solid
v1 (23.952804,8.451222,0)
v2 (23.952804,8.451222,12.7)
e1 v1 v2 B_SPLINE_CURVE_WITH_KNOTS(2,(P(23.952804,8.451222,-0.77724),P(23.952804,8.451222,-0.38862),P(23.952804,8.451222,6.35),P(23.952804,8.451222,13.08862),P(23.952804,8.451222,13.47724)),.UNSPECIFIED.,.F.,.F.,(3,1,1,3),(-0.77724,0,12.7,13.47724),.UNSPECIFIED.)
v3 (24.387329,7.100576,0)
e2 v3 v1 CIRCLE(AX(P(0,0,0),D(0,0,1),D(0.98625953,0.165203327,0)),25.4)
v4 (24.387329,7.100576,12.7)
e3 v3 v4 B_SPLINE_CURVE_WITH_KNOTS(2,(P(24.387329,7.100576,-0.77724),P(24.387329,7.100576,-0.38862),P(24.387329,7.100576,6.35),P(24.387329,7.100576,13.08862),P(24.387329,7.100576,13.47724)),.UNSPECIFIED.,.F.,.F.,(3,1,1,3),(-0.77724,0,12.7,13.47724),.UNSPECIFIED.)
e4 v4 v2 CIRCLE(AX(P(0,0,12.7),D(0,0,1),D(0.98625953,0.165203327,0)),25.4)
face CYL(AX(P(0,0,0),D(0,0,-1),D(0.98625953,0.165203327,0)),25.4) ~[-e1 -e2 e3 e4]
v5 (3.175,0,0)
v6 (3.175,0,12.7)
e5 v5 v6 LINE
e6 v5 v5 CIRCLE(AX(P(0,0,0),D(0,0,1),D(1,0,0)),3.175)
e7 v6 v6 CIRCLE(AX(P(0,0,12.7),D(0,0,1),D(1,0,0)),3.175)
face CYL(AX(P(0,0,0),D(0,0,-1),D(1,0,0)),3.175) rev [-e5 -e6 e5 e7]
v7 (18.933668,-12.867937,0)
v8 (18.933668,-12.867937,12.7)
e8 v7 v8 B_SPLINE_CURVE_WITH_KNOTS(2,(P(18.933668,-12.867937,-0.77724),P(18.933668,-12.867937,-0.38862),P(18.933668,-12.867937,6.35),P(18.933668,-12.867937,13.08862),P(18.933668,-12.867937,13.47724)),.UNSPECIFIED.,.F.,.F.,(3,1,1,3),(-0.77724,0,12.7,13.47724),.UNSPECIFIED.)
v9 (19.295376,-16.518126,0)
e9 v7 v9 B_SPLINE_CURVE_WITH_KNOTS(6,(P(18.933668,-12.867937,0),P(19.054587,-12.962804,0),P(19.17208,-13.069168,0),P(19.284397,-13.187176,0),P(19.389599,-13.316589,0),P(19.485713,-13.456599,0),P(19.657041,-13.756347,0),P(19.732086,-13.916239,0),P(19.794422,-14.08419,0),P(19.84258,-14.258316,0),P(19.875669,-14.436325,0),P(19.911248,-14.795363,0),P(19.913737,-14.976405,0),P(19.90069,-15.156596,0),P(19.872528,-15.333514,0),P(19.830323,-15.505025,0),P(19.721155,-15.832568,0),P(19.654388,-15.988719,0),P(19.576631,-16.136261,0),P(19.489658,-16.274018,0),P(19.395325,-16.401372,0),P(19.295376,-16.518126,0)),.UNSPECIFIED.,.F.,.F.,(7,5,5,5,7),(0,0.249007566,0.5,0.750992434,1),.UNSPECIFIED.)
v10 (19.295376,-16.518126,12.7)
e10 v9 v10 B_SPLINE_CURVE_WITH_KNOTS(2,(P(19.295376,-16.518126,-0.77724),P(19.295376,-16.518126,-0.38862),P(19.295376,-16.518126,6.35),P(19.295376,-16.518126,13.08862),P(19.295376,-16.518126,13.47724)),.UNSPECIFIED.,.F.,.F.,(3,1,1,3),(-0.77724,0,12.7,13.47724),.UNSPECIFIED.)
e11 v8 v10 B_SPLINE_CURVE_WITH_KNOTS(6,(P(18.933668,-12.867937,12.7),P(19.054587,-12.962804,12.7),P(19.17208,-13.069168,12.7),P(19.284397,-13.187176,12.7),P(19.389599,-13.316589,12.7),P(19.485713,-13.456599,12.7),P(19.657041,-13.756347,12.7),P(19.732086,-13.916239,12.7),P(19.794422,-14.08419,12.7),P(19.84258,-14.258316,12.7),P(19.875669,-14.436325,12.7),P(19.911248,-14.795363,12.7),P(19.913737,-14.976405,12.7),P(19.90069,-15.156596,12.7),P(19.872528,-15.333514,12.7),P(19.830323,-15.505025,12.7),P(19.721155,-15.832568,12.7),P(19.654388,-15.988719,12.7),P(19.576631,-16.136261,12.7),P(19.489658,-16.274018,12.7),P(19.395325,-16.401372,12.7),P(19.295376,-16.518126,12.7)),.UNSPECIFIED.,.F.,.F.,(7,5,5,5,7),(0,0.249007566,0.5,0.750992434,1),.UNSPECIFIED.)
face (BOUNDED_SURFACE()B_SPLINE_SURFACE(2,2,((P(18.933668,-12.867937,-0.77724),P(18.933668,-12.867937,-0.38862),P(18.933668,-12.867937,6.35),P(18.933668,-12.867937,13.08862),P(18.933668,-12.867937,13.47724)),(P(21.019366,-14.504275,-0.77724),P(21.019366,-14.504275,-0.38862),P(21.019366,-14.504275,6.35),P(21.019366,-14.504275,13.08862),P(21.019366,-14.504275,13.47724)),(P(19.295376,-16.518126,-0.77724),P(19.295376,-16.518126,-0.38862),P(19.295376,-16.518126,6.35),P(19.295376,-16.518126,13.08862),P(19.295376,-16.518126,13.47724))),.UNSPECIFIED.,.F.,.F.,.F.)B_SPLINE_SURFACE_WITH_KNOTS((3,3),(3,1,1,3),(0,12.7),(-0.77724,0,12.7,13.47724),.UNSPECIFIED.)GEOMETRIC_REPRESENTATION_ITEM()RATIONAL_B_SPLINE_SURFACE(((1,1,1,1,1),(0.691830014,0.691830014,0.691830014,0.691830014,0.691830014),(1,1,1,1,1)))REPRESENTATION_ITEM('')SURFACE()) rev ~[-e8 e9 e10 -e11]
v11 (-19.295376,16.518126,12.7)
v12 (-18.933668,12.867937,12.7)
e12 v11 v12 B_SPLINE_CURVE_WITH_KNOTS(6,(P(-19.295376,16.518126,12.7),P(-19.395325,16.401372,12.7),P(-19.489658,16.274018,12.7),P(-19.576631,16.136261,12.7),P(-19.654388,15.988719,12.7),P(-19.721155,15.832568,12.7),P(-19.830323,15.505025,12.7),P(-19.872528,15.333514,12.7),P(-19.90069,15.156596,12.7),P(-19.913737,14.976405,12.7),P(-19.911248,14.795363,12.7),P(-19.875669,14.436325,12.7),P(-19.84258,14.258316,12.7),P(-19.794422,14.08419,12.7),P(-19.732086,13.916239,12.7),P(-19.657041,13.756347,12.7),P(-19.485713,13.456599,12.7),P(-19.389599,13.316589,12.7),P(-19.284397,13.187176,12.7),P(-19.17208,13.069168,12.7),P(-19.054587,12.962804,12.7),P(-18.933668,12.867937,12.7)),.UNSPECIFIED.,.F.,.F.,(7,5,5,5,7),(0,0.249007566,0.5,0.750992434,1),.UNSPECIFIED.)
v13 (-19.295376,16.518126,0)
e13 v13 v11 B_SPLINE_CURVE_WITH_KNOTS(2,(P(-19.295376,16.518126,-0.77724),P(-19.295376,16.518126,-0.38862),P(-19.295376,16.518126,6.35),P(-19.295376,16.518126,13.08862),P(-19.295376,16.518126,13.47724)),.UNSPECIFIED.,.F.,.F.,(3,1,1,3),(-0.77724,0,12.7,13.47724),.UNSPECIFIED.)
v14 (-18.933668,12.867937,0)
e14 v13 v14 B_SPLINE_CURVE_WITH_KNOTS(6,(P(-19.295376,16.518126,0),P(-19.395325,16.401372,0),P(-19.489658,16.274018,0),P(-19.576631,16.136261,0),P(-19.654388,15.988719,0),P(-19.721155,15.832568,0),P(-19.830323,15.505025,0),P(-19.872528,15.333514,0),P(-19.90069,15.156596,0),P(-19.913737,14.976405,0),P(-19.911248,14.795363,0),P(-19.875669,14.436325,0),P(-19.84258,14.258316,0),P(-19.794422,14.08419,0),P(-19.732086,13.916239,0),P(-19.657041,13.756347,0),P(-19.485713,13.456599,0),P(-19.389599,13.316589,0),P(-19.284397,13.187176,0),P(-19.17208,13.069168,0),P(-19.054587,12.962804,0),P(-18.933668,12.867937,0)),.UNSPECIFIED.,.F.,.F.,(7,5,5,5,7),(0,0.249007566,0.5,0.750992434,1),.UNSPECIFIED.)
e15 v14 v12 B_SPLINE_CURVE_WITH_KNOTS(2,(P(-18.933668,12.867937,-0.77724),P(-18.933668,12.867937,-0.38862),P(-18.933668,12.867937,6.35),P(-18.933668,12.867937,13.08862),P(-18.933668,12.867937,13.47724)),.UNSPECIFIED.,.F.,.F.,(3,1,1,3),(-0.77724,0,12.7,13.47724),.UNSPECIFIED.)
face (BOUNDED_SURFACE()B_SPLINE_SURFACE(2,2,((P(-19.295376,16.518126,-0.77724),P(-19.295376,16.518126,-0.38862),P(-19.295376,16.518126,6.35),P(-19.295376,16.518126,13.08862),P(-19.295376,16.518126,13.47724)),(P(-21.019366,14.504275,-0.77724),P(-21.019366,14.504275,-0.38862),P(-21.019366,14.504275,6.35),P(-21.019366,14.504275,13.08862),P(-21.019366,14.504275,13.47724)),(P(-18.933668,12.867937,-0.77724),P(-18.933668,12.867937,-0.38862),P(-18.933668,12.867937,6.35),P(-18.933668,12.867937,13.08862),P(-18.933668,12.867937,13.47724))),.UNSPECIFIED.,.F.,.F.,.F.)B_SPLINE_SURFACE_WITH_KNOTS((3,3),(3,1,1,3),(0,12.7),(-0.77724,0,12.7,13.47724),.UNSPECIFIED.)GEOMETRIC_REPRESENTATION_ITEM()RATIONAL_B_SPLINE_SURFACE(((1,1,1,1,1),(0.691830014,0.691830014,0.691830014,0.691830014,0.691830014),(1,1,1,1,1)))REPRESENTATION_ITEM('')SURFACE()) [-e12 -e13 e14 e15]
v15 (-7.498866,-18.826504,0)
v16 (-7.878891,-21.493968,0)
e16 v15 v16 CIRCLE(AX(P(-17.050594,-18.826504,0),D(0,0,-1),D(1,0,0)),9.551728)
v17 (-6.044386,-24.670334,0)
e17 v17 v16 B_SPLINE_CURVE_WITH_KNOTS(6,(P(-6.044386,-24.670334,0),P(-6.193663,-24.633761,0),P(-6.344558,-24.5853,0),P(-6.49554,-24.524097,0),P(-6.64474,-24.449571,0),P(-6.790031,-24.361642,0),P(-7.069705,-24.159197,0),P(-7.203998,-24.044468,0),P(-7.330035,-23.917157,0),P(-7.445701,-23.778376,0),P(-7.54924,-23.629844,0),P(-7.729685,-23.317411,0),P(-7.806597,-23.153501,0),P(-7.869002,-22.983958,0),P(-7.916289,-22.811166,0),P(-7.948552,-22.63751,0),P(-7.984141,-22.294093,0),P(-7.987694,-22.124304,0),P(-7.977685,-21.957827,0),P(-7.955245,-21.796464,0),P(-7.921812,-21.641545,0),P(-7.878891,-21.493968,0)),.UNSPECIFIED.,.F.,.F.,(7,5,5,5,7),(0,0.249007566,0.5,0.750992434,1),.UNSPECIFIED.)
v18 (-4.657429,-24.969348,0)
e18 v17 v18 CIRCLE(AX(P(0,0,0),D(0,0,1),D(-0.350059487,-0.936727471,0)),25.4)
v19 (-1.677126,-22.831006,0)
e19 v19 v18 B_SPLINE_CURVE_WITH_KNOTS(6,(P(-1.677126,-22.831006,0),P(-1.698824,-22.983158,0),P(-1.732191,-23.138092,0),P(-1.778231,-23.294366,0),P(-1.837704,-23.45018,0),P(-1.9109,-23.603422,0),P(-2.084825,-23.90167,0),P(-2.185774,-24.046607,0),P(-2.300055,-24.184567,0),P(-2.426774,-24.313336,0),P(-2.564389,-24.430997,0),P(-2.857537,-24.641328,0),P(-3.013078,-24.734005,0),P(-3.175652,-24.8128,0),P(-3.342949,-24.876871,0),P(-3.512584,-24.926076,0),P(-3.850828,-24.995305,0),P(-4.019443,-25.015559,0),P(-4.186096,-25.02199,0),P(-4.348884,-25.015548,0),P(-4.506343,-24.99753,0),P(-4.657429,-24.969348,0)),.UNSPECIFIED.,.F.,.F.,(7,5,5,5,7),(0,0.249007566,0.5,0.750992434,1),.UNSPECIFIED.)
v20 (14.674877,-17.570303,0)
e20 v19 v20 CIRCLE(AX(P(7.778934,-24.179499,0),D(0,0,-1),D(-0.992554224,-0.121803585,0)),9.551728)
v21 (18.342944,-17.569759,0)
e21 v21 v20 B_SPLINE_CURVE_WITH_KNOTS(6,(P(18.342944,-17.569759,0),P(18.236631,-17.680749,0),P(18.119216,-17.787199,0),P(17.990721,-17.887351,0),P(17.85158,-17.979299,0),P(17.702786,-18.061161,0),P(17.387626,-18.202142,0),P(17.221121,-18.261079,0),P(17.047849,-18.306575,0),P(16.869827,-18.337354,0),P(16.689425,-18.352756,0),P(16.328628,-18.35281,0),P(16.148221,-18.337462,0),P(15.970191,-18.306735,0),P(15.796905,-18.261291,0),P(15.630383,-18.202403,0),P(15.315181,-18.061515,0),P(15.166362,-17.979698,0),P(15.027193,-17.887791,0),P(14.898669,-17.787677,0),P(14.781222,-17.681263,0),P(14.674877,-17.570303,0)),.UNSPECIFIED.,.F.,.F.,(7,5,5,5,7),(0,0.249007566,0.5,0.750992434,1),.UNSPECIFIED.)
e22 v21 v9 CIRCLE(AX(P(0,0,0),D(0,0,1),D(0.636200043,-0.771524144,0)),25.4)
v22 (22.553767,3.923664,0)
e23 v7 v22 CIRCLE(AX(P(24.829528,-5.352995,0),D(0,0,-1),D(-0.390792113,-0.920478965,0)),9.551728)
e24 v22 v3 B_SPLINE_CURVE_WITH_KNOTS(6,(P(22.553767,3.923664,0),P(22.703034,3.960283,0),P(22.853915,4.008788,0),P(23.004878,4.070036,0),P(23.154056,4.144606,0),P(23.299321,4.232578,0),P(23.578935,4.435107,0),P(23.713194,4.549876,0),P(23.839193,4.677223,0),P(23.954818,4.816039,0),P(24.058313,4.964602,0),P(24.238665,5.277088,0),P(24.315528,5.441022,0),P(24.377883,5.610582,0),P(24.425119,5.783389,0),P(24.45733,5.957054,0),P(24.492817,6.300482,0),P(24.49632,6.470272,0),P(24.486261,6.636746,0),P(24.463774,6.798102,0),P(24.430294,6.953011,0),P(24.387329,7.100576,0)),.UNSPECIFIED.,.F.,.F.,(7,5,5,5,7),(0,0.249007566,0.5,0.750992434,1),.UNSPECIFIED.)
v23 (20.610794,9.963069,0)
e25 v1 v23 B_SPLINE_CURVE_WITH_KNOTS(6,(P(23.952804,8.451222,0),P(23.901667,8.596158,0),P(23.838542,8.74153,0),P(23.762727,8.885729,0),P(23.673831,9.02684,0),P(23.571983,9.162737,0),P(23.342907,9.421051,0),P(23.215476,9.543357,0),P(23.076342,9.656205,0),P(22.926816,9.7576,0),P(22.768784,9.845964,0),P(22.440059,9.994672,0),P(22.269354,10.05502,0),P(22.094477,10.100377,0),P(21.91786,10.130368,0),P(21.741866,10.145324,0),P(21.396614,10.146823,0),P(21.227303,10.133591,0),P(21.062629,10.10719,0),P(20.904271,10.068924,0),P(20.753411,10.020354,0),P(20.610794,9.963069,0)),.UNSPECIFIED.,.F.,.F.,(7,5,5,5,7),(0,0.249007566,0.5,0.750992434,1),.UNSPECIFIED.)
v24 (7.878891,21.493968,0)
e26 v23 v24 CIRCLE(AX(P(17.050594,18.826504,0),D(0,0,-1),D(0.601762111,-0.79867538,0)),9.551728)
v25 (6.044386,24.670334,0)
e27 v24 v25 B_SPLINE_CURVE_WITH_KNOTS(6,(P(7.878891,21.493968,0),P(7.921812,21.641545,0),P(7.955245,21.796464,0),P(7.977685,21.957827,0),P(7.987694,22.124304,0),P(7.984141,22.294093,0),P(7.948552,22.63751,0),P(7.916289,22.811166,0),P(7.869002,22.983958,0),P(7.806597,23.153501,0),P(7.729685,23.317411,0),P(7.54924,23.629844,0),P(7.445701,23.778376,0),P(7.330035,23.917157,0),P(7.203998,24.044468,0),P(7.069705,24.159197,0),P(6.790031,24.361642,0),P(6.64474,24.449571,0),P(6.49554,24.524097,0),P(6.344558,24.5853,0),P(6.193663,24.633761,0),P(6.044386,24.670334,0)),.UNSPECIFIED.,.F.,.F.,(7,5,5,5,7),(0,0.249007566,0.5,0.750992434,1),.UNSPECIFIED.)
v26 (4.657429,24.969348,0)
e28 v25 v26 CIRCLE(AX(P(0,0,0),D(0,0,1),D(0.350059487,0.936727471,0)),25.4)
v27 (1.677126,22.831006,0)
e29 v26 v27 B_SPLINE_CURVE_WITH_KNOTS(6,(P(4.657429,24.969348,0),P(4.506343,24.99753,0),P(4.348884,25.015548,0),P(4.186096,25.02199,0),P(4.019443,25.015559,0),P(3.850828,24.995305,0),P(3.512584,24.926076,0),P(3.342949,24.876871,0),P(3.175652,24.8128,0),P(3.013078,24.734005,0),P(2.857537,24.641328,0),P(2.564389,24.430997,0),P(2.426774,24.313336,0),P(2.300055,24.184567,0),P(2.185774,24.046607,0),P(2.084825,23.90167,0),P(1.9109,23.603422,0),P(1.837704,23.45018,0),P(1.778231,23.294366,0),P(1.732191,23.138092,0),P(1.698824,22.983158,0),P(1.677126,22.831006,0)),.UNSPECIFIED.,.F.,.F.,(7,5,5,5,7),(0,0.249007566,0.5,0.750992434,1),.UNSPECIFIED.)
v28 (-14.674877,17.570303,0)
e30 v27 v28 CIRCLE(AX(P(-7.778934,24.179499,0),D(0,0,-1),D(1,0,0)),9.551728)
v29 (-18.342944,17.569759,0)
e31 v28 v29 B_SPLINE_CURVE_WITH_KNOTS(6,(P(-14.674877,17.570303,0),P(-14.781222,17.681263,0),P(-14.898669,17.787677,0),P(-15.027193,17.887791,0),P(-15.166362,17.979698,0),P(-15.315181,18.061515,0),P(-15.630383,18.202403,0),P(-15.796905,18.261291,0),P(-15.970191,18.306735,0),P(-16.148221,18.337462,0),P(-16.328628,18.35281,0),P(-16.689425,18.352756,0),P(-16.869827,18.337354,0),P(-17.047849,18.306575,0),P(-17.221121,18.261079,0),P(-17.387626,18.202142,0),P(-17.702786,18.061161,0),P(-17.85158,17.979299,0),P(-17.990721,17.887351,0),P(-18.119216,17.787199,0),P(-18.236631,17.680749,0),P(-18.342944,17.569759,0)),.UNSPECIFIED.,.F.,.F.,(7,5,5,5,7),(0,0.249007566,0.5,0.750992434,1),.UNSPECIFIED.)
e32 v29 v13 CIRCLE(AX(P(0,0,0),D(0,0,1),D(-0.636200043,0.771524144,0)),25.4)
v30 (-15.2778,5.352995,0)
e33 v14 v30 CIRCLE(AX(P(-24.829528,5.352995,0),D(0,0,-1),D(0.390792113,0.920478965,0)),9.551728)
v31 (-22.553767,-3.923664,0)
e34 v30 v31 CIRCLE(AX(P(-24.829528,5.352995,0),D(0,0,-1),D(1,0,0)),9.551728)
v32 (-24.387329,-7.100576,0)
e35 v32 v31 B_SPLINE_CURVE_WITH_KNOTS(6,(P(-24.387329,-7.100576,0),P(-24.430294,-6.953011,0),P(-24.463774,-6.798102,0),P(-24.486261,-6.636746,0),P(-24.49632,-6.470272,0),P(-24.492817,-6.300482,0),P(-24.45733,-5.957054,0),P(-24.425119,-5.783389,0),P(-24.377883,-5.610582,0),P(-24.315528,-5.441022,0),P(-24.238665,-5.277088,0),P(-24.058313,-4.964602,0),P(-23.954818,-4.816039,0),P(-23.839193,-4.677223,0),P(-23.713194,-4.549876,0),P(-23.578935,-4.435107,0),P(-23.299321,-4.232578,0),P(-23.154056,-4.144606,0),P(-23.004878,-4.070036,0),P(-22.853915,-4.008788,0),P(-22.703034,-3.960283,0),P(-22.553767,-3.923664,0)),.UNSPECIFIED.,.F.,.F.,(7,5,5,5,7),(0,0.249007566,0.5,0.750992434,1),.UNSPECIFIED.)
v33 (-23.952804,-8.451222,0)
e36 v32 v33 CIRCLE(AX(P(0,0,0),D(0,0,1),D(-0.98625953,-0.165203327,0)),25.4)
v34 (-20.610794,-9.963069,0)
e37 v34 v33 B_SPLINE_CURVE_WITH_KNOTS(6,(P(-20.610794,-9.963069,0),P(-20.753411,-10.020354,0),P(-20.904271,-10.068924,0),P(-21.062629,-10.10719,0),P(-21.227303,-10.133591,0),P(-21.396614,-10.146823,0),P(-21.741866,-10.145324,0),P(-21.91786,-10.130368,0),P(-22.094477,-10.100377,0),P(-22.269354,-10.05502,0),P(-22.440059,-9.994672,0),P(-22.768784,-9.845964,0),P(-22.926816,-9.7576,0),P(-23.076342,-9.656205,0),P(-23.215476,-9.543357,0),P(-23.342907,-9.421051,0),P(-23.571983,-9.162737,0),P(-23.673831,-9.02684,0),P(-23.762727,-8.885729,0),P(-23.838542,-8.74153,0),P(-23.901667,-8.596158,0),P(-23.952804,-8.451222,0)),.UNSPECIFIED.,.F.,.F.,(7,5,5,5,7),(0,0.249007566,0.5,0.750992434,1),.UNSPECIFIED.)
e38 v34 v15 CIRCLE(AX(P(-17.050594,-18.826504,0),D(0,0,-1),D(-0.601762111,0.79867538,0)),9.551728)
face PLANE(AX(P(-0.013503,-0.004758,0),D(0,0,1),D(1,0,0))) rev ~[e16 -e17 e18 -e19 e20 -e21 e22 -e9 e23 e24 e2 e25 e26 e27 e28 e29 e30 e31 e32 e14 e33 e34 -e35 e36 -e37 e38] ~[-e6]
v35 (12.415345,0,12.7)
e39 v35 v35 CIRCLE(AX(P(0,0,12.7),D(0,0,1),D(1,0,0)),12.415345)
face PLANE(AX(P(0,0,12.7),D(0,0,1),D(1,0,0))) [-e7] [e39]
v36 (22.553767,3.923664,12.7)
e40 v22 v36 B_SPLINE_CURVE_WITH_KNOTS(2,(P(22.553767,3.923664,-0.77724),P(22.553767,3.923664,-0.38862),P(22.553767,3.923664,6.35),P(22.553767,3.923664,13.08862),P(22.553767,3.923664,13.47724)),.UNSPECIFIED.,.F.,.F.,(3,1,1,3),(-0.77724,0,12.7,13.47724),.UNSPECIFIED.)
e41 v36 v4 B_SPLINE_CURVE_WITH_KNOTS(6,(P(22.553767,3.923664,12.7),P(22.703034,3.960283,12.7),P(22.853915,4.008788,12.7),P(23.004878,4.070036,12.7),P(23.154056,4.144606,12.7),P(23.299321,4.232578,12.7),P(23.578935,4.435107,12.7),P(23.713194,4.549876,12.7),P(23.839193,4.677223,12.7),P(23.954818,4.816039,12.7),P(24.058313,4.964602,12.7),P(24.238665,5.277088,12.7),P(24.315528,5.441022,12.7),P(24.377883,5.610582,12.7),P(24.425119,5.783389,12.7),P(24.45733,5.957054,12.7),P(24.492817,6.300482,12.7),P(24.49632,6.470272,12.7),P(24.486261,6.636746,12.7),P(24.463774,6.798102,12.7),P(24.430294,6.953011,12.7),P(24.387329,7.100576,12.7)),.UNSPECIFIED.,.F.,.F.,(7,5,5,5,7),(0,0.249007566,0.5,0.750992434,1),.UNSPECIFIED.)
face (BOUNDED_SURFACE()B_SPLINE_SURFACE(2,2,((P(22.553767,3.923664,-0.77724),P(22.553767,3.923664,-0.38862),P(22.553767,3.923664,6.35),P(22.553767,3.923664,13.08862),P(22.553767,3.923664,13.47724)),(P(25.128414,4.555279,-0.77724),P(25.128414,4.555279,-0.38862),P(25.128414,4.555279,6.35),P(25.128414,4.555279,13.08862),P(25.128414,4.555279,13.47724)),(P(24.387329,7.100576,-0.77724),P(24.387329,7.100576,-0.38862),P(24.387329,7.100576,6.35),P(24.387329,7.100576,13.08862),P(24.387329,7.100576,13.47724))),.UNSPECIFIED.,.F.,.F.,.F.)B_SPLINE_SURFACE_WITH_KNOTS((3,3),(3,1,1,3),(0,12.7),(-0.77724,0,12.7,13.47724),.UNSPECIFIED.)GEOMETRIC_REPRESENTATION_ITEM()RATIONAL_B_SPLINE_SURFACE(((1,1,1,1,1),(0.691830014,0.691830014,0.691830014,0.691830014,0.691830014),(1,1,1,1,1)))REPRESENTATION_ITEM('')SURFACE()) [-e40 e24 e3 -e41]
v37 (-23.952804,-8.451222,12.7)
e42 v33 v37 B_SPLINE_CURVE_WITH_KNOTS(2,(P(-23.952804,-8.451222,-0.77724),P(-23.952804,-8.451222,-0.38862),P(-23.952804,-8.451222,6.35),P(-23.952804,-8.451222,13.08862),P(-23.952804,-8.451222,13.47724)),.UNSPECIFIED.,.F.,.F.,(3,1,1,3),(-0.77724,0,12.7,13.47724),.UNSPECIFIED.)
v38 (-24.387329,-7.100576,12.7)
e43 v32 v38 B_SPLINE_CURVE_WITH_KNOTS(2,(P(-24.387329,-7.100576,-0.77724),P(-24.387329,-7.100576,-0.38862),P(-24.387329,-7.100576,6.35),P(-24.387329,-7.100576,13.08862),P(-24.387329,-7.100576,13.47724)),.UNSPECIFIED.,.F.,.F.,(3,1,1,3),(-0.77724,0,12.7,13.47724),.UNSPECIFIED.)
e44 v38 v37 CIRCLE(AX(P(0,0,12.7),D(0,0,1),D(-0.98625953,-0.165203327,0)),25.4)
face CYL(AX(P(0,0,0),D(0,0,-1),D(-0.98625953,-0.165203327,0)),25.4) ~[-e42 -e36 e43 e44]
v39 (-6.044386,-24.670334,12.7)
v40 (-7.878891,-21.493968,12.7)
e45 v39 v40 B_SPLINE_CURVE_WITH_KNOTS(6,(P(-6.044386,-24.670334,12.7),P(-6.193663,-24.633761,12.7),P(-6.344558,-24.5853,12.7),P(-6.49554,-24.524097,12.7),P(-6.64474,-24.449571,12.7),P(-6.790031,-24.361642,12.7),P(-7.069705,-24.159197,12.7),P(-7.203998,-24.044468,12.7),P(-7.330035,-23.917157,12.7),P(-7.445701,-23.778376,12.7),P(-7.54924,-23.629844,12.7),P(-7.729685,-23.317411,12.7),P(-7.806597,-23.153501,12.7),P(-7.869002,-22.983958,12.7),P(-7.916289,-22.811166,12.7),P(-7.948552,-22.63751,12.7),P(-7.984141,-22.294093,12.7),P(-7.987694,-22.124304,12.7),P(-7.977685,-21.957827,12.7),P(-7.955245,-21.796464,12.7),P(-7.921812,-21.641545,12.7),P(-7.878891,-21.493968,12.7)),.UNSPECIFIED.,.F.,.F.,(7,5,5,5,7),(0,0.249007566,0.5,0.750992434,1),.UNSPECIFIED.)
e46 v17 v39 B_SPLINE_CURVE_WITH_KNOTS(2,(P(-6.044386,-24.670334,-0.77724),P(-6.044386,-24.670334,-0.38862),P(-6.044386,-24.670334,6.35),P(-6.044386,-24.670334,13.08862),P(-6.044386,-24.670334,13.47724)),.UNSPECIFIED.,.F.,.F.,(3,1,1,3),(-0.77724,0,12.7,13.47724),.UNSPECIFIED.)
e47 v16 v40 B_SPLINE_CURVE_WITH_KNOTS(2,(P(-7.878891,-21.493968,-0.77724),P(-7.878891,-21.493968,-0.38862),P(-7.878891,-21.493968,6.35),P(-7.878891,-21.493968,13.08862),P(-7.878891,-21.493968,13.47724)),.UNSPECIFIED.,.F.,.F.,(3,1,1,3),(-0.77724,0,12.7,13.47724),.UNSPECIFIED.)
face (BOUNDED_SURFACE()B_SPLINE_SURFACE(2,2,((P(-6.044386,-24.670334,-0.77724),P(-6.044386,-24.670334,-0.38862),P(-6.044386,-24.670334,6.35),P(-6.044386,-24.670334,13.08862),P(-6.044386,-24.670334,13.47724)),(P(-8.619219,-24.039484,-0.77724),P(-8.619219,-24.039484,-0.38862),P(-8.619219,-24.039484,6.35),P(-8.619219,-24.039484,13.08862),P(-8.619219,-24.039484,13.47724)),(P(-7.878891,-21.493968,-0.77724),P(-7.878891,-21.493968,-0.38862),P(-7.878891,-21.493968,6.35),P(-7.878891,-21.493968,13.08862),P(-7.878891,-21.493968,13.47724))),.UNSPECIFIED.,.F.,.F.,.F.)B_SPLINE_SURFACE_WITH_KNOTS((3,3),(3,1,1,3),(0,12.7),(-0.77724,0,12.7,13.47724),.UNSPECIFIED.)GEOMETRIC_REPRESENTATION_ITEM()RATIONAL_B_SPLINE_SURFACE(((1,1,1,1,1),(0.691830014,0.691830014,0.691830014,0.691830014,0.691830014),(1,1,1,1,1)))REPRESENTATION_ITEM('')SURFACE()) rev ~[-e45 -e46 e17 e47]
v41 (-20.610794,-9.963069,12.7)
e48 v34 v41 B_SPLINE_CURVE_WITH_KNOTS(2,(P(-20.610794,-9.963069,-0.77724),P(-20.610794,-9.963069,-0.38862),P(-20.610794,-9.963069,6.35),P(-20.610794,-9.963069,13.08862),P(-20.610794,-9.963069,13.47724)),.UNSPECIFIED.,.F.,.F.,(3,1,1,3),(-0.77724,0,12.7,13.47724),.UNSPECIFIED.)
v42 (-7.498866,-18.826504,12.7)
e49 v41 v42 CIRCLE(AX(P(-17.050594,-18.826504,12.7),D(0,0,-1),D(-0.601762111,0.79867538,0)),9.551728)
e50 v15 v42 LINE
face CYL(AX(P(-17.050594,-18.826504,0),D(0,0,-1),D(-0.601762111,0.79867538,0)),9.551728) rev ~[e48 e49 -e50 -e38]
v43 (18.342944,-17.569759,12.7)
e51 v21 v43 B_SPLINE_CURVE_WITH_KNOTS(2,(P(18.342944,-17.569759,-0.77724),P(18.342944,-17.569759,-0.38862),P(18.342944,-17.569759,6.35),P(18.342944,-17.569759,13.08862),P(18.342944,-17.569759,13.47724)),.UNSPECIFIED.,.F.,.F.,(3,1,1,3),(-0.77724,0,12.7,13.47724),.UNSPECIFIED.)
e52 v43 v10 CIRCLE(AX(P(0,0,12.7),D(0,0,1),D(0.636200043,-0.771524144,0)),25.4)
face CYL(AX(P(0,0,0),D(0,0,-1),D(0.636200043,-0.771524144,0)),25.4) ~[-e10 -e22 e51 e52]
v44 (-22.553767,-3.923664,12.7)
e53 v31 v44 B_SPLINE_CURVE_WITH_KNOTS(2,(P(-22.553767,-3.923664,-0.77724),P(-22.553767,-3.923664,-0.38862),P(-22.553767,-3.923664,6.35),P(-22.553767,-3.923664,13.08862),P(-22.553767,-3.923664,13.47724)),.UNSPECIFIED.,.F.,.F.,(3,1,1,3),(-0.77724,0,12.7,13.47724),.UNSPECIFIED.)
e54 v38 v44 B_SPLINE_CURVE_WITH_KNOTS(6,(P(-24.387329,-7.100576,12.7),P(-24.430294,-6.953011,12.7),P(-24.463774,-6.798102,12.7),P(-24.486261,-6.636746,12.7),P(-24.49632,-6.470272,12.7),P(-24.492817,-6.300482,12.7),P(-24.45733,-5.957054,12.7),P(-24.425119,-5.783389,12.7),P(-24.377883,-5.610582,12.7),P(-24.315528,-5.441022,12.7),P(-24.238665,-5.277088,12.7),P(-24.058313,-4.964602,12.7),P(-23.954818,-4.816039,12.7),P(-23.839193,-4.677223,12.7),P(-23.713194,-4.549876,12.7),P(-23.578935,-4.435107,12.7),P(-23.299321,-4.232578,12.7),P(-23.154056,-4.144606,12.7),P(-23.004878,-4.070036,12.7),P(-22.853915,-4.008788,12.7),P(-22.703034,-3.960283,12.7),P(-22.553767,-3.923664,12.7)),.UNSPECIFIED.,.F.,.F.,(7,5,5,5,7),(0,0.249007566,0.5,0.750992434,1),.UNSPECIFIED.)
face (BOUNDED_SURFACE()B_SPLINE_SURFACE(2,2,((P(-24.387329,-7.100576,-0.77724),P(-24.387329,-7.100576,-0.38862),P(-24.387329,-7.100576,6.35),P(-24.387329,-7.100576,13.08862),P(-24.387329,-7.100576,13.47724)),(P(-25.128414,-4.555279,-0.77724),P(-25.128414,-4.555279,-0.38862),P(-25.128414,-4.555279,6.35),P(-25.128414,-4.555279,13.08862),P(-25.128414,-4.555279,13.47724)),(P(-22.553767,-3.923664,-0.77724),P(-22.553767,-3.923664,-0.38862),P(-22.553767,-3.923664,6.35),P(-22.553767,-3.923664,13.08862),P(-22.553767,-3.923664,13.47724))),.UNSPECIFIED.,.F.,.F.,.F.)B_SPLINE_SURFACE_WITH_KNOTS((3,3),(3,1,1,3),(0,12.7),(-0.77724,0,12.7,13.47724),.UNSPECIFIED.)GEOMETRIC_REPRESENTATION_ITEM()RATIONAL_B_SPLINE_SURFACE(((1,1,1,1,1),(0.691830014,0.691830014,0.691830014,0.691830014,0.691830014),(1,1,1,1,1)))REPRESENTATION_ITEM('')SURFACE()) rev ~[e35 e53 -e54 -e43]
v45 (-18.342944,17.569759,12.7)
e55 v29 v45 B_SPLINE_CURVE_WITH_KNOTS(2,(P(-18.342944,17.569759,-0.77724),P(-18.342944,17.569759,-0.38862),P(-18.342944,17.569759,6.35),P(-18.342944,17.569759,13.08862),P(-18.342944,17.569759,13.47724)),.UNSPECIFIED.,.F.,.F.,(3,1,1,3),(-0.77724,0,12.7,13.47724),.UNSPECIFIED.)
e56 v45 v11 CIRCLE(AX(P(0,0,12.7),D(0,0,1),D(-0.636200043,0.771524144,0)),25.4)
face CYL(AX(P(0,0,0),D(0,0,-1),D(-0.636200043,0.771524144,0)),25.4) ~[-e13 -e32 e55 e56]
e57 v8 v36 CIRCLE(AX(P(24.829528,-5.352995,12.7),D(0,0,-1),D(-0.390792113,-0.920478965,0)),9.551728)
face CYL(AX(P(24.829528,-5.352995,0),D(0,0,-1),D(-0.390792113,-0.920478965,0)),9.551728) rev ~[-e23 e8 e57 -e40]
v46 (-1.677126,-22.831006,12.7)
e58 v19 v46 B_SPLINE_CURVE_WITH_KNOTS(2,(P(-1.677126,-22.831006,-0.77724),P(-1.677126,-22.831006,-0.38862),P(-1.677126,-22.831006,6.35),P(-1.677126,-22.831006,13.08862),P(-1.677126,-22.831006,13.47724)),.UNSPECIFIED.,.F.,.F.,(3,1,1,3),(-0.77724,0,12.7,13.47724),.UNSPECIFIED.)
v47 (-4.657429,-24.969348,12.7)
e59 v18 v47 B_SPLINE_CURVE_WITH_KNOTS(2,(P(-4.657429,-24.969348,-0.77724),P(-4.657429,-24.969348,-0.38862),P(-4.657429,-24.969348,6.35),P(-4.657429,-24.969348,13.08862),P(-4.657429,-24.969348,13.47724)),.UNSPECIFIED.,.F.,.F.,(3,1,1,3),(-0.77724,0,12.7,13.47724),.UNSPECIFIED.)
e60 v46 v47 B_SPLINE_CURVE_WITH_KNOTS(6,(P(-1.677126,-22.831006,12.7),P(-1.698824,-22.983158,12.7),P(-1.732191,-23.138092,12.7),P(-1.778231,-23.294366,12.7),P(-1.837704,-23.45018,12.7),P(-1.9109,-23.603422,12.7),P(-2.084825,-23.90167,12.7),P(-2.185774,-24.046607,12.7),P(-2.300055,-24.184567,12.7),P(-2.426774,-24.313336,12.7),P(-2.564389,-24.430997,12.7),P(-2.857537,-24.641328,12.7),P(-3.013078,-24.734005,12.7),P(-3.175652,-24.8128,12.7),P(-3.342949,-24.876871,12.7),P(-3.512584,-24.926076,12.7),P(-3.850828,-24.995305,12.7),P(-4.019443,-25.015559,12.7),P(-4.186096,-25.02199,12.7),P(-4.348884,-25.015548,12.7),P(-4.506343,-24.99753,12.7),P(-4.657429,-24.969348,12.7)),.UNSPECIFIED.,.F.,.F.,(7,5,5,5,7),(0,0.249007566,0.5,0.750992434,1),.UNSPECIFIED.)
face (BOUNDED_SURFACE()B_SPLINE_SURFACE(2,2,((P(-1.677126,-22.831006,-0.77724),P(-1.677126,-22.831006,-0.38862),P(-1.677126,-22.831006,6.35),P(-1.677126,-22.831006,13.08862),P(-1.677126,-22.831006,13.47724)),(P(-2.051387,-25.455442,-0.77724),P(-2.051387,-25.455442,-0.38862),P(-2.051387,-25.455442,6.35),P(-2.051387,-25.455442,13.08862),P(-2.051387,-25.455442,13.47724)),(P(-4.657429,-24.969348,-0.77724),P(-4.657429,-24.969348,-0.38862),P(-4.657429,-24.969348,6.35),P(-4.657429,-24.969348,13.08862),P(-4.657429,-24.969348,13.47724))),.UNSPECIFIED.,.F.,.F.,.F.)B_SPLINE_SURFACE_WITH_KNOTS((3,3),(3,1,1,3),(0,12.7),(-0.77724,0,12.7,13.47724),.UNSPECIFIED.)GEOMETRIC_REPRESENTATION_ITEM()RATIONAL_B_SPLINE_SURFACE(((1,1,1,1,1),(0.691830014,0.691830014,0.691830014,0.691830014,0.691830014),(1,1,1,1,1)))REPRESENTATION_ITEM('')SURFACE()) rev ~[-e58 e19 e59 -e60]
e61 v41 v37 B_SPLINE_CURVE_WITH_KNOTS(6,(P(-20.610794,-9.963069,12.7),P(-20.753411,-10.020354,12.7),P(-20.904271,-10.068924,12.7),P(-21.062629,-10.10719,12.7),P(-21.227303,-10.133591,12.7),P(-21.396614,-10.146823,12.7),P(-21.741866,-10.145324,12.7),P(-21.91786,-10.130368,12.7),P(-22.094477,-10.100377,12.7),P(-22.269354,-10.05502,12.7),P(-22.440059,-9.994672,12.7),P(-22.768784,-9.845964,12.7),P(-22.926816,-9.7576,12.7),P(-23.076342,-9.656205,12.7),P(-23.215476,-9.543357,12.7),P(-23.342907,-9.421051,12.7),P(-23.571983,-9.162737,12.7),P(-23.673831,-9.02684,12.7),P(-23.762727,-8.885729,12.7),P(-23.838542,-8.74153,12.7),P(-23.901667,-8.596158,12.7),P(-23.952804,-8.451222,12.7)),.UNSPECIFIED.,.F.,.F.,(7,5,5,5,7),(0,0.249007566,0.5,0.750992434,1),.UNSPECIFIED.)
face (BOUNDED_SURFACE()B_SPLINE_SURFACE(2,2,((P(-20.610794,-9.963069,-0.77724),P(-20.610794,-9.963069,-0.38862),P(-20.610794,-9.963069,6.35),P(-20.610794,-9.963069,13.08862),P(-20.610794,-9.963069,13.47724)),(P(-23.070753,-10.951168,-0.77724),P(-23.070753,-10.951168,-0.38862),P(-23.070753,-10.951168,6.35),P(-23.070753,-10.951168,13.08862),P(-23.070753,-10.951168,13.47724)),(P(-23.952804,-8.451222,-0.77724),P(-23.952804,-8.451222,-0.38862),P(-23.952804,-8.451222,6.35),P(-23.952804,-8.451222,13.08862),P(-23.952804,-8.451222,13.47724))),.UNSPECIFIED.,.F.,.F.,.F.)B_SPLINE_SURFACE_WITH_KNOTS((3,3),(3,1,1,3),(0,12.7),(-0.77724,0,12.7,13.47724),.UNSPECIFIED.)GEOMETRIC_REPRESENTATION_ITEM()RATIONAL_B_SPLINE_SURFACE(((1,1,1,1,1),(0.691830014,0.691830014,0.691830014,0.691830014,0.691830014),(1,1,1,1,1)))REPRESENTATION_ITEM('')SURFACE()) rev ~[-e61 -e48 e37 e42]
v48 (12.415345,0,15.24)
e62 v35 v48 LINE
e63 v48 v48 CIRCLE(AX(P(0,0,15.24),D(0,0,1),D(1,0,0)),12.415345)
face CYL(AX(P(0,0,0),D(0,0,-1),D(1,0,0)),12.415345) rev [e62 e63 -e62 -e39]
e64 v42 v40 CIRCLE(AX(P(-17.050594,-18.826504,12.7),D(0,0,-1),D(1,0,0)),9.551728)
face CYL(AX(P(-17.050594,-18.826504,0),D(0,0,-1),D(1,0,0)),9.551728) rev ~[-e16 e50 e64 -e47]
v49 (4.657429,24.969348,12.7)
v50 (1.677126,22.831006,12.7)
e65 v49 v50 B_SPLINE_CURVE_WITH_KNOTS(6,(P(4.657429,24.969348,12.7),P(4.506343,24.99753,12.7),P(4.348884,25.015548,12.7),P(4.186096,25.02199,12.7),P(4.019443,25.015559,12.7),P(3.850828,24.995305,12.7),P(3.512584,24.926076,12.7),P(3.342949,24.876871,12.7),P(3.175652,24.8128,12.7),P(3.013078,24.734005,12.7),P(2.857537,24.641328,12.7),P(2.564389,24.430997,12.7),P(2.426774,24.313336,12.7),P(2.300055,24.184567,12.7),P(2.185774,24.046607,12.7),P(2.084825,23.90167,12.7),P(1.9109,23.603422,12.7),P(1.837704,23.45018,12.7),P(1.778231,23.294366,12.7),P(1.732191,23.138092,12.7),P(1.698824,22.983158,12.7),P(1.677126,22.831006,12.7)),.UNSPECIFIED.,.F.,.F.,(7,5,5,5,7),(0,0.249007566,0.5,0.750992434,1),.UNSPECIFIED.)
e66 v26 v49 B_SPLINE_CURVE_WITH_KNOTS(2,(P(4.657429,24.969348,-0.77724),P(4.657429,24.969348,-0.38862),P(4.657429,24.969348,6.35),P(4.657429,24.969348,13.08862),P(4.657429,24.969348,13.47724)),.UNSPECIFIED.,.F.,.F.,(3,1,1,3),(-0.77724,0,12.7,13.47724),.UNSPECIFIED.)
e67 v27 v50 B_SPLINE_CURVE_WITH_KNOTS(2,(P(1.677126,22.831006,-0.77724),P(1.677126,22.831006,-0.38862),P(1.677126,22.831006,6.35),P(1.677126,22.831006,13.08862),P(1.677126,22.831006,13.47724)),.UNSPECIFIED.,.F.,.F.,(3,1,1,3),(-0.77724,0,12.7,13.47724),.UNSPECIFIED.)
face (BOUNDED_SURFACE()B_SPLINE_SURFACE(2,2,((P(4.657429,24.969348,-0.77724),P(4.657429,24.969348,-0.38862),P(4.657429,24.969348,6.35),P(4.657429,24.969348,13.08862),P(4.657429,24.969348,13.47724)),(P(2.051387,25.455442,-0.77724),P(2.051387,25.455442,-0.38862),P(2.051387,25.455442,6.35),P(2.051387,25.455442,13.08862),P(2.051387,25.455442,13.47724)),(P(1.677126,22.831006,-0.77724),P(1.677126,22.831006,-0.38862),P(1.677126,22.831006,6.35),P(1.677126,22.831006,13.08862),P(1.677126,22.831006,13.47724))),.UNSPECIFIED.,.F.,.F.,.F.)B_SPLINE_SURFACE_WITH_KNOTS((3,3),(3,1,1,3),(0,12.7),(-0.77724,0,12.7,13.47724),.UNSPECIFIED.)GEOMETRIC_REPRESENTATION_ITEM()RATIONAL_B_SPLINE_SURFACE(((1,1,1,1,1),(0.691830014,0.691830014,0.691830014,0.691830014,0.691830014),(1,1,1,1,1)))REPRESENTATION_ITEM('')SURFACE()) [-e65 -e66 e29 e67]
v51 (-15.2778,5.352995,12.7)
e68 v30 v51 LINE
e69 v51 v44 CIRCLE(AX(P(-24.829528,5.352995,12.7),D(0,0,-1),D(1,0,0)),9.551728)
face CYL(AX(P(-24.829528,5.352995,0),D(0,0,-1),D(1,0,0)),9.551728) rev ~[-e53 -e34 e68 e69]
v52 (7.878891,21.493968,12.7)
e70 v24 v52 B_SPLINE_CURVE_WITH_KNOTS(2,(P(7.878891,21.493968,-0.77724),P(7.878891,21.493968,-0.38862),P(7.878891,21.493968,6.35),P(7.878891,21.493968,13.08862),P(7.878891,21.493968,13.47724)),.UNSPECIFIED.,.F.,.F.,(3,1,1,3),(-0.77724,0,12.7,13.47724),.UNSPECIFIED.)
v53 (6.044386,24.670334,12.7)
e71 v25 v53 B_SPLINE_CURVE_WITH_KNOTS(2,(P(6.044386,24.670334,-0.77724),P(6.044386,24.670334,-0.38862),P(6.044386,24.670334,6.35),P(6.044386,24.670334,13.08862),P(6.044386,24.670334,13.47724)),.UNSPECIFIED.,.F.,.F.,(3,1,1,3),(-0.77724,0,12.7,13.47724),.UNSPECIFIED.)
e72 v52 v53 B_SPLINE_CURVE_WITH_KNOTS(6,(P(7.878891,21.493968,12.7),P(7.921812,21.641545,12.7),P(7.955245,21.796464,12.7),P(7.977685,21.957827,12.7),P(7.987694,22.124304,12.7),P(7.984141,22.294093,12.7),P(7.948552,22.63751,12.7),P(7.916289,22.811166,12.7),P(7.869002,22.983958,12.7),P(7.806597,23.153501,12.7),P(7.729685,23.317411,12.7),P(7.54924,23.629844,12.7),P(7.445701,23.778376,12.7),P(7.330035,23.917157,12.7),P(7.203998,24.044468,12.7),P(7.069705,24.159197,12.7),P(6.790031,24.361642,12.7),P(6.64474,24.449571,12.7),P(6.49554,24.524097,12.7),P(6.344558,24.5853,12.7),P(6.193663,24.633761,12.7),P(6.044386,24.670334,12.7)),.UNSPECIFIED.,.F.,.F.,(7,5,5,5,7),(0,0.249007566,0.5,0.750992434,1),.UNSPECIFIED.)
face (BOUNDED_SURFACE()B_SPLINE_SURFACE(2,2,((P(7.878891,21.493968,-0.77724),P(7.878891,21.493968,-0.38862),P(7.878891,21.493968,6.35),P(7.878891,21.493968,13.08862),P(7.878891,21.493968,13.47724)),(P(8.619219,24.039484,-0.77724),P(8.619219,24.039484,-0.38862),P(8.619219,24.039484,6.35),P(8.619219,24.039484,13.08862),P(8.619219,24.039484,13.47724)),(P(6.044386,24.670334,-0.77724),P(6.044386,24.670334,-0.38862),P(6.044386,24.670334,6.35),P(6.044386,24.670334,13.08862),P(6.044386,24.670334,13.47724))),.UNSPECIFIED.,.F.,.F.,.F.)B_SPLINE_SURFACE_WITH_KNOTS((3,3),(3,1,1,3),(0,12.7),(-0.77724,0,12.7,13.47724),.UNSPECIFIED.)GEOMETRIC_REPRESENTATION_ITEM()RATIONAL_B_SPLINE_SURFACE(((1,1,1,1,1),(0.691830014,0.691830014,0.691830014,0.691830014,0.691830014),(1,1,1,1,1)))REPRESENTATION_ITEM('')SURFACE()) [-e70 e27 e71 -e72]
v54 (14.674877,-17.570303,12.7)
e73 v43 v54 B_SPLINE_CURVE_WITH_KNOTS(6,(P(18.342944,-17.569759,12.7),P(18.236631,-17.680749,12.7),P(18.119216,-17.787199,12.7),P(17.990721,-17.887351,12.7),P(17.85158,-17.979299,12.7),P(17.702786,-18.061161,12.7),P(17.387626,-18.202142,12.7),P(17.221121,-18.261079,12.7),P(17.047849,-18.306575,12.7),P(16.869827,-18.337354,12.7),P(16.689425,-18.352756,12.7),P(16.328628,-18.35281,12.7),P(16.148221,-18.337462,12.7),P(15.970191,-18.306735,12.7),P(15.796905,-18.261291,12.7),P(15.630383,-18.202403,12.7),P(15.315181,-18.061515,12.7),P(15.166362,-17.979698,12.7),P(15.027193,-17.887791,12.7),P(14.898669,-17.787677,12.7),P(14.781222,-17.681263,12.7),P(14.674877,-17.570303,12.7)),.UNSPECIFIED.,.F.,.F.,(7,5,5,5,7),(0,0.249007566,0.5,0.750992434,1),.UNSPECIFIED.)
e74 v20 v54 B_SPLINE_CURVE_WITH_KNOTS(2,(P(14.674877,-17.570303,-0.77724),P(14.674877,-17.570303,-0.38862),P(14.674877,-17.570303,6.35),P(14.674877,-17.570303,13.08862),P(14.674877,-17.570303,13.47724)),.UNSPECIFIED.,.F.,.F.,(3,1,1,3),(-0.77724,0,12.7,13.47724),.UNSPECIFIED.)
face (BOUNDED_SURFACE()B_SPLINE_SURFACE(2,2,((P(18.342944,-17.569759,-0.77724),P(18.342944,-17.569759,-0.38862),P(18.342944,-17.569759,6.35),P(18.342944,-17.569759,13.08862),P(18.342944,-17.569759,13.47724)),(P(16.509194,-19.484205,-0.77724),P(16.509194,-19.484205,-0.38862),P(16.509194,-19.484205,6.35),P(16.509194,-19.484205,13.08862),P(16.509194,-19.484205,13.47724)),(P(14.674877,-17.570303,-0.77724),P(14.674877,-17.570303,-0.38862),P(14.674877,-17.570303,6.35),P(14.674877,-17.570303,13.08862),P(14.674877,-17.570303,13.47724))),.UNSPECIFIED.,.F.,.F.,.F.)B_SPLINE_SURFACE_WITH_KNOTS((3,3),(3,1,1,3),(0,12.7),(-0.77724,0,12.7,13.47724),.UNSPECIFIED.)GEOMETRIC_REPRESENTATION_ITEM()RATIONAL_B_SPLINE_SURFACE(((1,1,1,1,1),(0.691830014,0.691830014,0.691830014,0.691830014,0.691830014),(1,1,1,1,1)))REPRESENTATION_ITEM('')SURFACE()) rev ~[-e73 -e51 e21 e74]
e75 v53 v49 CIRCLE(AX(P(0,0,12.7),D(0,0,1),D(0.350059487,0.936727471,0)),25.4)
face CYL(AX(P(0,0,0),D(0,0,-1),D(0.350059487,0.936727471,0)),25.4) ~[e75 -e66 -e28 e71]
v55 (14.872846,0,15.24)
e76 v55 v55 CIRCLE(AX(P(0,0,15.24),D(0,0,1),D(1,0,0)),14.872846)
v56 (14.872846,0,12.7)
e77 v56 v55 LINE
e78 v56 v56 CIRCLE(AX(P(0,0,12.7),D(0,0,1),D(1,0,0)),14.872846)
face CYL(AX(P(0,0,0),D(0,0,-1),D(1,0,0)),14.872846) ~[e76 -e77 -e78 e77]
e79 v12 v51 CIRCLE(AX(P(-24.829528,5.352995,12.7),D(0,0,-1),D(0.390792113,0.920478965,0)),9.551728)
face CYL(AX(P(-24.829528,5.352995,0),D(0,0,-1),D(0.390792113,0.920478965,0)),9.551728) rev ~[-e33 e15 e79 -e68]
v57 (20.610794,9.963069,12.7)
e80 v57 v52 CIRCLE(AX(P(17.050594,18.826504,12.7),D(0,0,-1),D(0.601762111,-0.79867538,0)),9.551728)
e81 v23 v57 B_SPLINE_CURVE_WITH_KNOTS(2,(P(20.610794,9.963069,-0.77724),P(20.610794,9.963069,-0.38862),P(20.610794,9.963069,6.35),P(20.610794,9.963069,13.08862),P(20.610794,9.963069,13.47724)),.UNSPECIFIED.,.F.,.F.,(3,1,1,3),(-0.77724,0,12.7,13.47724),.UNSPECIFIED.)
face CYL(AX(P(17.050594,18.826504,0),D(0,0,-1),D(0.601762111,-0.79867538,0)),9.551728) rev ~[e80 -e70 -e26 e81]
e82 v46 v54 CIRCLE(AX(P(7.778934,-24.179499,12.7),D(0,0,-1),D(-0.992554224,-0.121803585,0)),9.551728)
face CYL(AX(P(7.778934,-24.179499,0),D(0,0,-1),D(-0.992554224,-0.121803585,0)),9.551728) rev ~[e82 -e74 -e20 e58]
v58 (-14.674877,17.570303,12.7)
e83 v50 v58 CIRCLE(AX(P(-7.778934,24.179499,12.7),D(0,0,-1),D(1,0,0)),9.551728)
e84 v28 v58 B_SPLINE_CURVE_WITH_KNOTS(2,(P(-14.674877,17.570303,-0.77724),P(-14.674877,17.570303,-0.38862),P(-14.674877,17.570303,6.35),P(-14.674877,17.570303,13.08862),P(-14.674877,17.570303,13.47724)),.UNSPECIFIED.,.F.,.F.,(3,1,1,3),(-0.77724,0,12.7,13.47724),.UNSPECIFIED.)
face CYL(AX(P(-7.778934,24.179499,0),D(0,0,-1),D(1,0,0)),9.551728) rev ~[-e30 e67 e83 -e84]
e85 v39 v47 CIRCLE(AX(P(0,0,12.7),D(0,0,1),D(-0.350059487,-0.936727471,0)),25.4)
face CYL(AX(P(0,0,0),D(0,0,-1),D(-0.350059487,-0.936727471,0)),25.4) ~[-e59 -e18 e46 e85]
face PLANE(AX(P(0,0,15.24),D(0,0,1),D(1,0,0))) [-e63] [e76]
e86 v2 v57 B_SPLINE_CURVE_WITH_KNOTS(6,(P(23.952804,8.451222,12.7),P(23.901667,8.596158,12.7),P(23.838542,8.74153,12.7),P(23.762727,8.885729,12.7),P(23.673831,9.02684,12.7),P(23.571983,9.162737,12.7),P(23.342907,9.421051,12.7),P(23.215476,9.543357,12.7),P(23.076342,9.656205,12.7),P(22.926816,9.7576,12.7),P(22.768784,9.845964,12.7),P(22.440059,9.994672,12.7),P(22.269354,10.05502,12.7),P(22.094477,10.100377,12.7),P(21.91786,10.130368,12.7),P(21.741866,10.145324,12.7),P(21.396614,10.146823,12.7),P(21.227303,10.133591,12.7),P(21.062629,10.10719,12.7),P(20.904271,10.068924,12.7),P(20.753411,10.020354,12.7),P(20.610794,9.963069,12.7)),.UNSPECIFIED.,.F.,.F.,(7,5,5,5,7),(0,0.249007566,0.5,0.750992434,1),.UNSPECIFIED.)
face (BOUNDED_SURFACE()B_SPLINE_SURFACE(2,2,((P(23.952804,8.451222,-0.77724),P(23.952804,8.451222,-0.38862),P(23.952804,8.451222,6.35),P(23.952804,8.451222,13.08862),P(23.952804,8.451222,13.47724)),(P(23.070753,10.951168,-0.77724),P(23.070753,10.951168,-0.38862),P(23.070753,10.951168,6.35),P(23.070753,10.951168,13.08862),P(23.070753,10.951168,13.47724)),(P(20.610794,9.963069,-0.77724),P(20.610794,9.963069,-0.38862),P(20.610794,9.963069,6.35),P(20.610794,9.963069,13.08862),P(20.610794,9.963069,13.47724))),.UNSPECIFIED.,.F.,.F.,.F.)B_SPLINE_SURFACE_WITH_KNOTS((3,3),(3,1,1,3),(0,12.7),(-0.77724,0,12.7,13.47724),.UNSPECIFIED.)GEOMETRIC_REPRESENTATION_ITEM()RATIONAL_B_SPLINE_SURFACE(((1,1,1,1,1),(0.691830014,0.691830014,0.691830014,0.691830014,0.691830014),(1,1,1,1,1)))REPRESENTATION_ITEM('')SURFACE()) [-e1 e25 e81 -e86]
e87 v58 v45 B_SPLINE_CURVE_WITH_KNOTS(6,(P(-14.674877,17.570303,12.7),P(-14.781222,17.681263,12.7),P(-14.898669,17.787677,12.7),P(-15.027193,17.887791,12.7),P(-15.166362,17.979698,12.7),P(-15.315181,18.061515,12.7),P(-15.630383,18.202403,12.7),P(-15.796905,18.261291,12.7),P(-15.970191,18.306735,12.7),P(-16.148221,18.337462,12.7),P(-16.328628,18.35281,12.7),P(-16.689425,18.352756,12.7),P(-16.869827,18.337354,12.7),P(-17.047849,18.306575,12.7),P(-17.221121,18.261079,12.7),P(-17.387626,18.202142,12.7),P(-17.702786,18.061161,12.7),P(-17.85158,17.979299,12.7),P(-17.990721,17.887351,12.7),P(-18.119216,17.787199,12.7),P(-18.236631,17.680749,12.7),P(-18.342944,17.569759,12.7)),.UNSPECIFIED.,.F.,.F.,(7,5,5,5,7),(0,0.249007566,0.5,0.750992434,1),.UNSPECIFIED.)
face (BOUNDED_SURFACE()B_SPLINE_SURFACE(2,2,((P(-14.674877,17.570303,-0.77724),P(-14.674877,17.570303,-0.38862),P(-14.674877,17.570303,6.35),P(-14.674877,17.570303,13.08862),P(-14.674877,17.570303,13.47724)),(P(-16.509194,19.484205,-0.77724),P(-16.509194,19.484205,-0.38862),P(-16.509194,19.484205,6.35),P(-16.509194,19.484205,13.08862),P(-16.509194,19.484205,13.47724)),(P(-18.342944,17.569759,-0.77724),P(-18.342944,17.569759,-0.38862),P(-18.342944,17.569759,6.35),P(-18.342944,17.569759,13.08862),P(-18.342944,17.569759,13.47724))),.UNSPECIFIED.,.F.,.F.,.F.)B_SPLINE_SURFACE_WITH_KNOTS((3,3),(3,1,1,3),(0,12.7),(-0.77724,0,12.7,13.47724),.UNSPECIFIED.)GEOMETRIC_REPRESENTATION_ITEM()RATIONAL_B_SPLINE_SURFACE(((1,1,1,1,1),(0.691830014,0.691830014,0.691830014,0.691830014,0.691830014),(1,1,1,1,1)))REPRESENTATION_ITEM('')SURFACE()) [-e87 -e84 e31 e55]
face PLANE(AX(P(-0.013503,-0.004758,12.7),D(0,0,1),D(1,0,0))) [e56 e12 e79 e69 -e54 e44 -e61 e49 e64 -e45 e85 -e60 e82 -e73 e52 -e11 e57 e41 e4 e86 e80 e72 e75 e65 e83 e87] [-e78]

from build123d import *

# Parameters (mm, degrees)
F0_R     = 14.8728461467
F1_DEPTH = 12.7
F2_R     = 2.54
F0_R_2   = 12.4153453857
F0_R_3   = 3.175
F3_DEPTH = 12.7
F4_DEPTH = 15.24


with BuildPart() as f1:
    # F0 (on Top) → F1 (new body)
    with BuildSketch(Plane.XY):
        with BuildLine():
            ThreePointArc((21.0967877354, -14.1451598523), (15.4923273366, -3.3399893418), (25.0509920661, 4.1961644989))
            ThreePointArc((25.0509920661, 4.1961644989), (24.1794993656, 7.778933759), (22.7984616404, 11.197774191))
            ThreePointArc((22.7984616404, 11.197774191), (10.6386792866, 11.7467543663), (8.8915109785, 23.7928777688))
            ThreePointArc((8.8915109785, 23.7928777688), (5.3529954332, 24.8295275809), (1.7016739049, 25.3429340433))
            ThreePointArc((1.7016739049, 25.3429340433), (1.7549973478, 24.7623025716), (1.7727939343, 24.1794993656))
            ThreePointArc((1.7727939343, 24.1794993656), (-5.4138971923, 14.9251974489), (-16.1594810876, 19.5967132698))
            ThreePointArc((-16.1594810876, 19.5967132698), (-18.8265039325, 17.0505938219), (-21.0967877354, 14.1451598523))
            ThreePointArc((-21.0967877354, 14.1451598523), (-16.8643026475, 10.6246833684), (-15.2777998876, 5.3529954332))
            ThreePointArc((-15.2777998876, 5.3529954332), (-18.154194875, -1.4789468377), (-25.0509920661, -4.1961644989))
            ThreePointArc((-25.0509920661, -4.1961644989), (-24.1794993656, -7.778933759), (-22.7984616404, -11.197774191))
            ThreePointArc((-22.7984616404, -11.197774191), (-12.7883506503, -10.278475793), (-7.4988661286, -18.8265039325))
            ThreePointArc((-7.4988661286, -18.8265039325), (-7.8536149844, -21.4054731432), (-8.8915109785, -23.7928777688))
            ThreePointArc((-8.8915109785, -23.7928777688), (-5.3529954332, -24.8295275809), (-1.7016739049, -25.3429340433))
            ThreePointArc((-1.7016739049, -25.3429340433), (4.8536480499, -15.0867437081), (16.1594810876, -19.5967132698))
            ThreePointArc((16.1594810876, -19.5967132698), (18.8265039325, -17.0505938219), (21.0967877354, -14.1451598523))
        make_face()
        Circle(F0_R, mode=Mode.SUBTRACT)
    extrude(amount=F1_DEPTH)

    # F2
    f2_edges = [f1.edges().sort_by_distance(p)[0] for p in [
        (1.701674, 25.342934, 6.35),
        (8.891511, 23.792878, 6.35),
        (-16.159481, 19.596713, 6.35),
        (-21.096788, 14.14516, 6.35),
        (-25.050992, -4.196164, 6.35),
        (25.050992, 4.196164, 6.35),
        (22.798462, 11.197774, 6.35),
        (21.096788, -14.14516, 6.35),
        (16.159481, -19.596713, 6.35),
        (-1.701674, -25.342934, 6.35),
        (-8.891511, -23.792878, 6.35),
        (-22.798462, -11.197774, 6.35),
    ]]
    fillet(f2_edges, radius=F2_R)



with BuildPart() as f3:
    # F0 (on Top) → F3 (new body)
    with BuildSketch(Plane.XY):
        Circle(F0_R_2)
        Circle(F0_R_3, mode=Mode.SUBTRACT)
    extrude(amount=F3_DEPTH)


with BuildPart() as f1_1:
    add(f1.part)

    add(f3.part)  # F4 merges F3
    # F0 (on Top) → F4 (join)
    with BuildSketch(Plane.XY):
        Circle(F0_R)
        Circle(F0_R_2, mode=Mode.SUBTRACT)
    extrude(amount=F4_DEPTH)


solid = f1_1.part
